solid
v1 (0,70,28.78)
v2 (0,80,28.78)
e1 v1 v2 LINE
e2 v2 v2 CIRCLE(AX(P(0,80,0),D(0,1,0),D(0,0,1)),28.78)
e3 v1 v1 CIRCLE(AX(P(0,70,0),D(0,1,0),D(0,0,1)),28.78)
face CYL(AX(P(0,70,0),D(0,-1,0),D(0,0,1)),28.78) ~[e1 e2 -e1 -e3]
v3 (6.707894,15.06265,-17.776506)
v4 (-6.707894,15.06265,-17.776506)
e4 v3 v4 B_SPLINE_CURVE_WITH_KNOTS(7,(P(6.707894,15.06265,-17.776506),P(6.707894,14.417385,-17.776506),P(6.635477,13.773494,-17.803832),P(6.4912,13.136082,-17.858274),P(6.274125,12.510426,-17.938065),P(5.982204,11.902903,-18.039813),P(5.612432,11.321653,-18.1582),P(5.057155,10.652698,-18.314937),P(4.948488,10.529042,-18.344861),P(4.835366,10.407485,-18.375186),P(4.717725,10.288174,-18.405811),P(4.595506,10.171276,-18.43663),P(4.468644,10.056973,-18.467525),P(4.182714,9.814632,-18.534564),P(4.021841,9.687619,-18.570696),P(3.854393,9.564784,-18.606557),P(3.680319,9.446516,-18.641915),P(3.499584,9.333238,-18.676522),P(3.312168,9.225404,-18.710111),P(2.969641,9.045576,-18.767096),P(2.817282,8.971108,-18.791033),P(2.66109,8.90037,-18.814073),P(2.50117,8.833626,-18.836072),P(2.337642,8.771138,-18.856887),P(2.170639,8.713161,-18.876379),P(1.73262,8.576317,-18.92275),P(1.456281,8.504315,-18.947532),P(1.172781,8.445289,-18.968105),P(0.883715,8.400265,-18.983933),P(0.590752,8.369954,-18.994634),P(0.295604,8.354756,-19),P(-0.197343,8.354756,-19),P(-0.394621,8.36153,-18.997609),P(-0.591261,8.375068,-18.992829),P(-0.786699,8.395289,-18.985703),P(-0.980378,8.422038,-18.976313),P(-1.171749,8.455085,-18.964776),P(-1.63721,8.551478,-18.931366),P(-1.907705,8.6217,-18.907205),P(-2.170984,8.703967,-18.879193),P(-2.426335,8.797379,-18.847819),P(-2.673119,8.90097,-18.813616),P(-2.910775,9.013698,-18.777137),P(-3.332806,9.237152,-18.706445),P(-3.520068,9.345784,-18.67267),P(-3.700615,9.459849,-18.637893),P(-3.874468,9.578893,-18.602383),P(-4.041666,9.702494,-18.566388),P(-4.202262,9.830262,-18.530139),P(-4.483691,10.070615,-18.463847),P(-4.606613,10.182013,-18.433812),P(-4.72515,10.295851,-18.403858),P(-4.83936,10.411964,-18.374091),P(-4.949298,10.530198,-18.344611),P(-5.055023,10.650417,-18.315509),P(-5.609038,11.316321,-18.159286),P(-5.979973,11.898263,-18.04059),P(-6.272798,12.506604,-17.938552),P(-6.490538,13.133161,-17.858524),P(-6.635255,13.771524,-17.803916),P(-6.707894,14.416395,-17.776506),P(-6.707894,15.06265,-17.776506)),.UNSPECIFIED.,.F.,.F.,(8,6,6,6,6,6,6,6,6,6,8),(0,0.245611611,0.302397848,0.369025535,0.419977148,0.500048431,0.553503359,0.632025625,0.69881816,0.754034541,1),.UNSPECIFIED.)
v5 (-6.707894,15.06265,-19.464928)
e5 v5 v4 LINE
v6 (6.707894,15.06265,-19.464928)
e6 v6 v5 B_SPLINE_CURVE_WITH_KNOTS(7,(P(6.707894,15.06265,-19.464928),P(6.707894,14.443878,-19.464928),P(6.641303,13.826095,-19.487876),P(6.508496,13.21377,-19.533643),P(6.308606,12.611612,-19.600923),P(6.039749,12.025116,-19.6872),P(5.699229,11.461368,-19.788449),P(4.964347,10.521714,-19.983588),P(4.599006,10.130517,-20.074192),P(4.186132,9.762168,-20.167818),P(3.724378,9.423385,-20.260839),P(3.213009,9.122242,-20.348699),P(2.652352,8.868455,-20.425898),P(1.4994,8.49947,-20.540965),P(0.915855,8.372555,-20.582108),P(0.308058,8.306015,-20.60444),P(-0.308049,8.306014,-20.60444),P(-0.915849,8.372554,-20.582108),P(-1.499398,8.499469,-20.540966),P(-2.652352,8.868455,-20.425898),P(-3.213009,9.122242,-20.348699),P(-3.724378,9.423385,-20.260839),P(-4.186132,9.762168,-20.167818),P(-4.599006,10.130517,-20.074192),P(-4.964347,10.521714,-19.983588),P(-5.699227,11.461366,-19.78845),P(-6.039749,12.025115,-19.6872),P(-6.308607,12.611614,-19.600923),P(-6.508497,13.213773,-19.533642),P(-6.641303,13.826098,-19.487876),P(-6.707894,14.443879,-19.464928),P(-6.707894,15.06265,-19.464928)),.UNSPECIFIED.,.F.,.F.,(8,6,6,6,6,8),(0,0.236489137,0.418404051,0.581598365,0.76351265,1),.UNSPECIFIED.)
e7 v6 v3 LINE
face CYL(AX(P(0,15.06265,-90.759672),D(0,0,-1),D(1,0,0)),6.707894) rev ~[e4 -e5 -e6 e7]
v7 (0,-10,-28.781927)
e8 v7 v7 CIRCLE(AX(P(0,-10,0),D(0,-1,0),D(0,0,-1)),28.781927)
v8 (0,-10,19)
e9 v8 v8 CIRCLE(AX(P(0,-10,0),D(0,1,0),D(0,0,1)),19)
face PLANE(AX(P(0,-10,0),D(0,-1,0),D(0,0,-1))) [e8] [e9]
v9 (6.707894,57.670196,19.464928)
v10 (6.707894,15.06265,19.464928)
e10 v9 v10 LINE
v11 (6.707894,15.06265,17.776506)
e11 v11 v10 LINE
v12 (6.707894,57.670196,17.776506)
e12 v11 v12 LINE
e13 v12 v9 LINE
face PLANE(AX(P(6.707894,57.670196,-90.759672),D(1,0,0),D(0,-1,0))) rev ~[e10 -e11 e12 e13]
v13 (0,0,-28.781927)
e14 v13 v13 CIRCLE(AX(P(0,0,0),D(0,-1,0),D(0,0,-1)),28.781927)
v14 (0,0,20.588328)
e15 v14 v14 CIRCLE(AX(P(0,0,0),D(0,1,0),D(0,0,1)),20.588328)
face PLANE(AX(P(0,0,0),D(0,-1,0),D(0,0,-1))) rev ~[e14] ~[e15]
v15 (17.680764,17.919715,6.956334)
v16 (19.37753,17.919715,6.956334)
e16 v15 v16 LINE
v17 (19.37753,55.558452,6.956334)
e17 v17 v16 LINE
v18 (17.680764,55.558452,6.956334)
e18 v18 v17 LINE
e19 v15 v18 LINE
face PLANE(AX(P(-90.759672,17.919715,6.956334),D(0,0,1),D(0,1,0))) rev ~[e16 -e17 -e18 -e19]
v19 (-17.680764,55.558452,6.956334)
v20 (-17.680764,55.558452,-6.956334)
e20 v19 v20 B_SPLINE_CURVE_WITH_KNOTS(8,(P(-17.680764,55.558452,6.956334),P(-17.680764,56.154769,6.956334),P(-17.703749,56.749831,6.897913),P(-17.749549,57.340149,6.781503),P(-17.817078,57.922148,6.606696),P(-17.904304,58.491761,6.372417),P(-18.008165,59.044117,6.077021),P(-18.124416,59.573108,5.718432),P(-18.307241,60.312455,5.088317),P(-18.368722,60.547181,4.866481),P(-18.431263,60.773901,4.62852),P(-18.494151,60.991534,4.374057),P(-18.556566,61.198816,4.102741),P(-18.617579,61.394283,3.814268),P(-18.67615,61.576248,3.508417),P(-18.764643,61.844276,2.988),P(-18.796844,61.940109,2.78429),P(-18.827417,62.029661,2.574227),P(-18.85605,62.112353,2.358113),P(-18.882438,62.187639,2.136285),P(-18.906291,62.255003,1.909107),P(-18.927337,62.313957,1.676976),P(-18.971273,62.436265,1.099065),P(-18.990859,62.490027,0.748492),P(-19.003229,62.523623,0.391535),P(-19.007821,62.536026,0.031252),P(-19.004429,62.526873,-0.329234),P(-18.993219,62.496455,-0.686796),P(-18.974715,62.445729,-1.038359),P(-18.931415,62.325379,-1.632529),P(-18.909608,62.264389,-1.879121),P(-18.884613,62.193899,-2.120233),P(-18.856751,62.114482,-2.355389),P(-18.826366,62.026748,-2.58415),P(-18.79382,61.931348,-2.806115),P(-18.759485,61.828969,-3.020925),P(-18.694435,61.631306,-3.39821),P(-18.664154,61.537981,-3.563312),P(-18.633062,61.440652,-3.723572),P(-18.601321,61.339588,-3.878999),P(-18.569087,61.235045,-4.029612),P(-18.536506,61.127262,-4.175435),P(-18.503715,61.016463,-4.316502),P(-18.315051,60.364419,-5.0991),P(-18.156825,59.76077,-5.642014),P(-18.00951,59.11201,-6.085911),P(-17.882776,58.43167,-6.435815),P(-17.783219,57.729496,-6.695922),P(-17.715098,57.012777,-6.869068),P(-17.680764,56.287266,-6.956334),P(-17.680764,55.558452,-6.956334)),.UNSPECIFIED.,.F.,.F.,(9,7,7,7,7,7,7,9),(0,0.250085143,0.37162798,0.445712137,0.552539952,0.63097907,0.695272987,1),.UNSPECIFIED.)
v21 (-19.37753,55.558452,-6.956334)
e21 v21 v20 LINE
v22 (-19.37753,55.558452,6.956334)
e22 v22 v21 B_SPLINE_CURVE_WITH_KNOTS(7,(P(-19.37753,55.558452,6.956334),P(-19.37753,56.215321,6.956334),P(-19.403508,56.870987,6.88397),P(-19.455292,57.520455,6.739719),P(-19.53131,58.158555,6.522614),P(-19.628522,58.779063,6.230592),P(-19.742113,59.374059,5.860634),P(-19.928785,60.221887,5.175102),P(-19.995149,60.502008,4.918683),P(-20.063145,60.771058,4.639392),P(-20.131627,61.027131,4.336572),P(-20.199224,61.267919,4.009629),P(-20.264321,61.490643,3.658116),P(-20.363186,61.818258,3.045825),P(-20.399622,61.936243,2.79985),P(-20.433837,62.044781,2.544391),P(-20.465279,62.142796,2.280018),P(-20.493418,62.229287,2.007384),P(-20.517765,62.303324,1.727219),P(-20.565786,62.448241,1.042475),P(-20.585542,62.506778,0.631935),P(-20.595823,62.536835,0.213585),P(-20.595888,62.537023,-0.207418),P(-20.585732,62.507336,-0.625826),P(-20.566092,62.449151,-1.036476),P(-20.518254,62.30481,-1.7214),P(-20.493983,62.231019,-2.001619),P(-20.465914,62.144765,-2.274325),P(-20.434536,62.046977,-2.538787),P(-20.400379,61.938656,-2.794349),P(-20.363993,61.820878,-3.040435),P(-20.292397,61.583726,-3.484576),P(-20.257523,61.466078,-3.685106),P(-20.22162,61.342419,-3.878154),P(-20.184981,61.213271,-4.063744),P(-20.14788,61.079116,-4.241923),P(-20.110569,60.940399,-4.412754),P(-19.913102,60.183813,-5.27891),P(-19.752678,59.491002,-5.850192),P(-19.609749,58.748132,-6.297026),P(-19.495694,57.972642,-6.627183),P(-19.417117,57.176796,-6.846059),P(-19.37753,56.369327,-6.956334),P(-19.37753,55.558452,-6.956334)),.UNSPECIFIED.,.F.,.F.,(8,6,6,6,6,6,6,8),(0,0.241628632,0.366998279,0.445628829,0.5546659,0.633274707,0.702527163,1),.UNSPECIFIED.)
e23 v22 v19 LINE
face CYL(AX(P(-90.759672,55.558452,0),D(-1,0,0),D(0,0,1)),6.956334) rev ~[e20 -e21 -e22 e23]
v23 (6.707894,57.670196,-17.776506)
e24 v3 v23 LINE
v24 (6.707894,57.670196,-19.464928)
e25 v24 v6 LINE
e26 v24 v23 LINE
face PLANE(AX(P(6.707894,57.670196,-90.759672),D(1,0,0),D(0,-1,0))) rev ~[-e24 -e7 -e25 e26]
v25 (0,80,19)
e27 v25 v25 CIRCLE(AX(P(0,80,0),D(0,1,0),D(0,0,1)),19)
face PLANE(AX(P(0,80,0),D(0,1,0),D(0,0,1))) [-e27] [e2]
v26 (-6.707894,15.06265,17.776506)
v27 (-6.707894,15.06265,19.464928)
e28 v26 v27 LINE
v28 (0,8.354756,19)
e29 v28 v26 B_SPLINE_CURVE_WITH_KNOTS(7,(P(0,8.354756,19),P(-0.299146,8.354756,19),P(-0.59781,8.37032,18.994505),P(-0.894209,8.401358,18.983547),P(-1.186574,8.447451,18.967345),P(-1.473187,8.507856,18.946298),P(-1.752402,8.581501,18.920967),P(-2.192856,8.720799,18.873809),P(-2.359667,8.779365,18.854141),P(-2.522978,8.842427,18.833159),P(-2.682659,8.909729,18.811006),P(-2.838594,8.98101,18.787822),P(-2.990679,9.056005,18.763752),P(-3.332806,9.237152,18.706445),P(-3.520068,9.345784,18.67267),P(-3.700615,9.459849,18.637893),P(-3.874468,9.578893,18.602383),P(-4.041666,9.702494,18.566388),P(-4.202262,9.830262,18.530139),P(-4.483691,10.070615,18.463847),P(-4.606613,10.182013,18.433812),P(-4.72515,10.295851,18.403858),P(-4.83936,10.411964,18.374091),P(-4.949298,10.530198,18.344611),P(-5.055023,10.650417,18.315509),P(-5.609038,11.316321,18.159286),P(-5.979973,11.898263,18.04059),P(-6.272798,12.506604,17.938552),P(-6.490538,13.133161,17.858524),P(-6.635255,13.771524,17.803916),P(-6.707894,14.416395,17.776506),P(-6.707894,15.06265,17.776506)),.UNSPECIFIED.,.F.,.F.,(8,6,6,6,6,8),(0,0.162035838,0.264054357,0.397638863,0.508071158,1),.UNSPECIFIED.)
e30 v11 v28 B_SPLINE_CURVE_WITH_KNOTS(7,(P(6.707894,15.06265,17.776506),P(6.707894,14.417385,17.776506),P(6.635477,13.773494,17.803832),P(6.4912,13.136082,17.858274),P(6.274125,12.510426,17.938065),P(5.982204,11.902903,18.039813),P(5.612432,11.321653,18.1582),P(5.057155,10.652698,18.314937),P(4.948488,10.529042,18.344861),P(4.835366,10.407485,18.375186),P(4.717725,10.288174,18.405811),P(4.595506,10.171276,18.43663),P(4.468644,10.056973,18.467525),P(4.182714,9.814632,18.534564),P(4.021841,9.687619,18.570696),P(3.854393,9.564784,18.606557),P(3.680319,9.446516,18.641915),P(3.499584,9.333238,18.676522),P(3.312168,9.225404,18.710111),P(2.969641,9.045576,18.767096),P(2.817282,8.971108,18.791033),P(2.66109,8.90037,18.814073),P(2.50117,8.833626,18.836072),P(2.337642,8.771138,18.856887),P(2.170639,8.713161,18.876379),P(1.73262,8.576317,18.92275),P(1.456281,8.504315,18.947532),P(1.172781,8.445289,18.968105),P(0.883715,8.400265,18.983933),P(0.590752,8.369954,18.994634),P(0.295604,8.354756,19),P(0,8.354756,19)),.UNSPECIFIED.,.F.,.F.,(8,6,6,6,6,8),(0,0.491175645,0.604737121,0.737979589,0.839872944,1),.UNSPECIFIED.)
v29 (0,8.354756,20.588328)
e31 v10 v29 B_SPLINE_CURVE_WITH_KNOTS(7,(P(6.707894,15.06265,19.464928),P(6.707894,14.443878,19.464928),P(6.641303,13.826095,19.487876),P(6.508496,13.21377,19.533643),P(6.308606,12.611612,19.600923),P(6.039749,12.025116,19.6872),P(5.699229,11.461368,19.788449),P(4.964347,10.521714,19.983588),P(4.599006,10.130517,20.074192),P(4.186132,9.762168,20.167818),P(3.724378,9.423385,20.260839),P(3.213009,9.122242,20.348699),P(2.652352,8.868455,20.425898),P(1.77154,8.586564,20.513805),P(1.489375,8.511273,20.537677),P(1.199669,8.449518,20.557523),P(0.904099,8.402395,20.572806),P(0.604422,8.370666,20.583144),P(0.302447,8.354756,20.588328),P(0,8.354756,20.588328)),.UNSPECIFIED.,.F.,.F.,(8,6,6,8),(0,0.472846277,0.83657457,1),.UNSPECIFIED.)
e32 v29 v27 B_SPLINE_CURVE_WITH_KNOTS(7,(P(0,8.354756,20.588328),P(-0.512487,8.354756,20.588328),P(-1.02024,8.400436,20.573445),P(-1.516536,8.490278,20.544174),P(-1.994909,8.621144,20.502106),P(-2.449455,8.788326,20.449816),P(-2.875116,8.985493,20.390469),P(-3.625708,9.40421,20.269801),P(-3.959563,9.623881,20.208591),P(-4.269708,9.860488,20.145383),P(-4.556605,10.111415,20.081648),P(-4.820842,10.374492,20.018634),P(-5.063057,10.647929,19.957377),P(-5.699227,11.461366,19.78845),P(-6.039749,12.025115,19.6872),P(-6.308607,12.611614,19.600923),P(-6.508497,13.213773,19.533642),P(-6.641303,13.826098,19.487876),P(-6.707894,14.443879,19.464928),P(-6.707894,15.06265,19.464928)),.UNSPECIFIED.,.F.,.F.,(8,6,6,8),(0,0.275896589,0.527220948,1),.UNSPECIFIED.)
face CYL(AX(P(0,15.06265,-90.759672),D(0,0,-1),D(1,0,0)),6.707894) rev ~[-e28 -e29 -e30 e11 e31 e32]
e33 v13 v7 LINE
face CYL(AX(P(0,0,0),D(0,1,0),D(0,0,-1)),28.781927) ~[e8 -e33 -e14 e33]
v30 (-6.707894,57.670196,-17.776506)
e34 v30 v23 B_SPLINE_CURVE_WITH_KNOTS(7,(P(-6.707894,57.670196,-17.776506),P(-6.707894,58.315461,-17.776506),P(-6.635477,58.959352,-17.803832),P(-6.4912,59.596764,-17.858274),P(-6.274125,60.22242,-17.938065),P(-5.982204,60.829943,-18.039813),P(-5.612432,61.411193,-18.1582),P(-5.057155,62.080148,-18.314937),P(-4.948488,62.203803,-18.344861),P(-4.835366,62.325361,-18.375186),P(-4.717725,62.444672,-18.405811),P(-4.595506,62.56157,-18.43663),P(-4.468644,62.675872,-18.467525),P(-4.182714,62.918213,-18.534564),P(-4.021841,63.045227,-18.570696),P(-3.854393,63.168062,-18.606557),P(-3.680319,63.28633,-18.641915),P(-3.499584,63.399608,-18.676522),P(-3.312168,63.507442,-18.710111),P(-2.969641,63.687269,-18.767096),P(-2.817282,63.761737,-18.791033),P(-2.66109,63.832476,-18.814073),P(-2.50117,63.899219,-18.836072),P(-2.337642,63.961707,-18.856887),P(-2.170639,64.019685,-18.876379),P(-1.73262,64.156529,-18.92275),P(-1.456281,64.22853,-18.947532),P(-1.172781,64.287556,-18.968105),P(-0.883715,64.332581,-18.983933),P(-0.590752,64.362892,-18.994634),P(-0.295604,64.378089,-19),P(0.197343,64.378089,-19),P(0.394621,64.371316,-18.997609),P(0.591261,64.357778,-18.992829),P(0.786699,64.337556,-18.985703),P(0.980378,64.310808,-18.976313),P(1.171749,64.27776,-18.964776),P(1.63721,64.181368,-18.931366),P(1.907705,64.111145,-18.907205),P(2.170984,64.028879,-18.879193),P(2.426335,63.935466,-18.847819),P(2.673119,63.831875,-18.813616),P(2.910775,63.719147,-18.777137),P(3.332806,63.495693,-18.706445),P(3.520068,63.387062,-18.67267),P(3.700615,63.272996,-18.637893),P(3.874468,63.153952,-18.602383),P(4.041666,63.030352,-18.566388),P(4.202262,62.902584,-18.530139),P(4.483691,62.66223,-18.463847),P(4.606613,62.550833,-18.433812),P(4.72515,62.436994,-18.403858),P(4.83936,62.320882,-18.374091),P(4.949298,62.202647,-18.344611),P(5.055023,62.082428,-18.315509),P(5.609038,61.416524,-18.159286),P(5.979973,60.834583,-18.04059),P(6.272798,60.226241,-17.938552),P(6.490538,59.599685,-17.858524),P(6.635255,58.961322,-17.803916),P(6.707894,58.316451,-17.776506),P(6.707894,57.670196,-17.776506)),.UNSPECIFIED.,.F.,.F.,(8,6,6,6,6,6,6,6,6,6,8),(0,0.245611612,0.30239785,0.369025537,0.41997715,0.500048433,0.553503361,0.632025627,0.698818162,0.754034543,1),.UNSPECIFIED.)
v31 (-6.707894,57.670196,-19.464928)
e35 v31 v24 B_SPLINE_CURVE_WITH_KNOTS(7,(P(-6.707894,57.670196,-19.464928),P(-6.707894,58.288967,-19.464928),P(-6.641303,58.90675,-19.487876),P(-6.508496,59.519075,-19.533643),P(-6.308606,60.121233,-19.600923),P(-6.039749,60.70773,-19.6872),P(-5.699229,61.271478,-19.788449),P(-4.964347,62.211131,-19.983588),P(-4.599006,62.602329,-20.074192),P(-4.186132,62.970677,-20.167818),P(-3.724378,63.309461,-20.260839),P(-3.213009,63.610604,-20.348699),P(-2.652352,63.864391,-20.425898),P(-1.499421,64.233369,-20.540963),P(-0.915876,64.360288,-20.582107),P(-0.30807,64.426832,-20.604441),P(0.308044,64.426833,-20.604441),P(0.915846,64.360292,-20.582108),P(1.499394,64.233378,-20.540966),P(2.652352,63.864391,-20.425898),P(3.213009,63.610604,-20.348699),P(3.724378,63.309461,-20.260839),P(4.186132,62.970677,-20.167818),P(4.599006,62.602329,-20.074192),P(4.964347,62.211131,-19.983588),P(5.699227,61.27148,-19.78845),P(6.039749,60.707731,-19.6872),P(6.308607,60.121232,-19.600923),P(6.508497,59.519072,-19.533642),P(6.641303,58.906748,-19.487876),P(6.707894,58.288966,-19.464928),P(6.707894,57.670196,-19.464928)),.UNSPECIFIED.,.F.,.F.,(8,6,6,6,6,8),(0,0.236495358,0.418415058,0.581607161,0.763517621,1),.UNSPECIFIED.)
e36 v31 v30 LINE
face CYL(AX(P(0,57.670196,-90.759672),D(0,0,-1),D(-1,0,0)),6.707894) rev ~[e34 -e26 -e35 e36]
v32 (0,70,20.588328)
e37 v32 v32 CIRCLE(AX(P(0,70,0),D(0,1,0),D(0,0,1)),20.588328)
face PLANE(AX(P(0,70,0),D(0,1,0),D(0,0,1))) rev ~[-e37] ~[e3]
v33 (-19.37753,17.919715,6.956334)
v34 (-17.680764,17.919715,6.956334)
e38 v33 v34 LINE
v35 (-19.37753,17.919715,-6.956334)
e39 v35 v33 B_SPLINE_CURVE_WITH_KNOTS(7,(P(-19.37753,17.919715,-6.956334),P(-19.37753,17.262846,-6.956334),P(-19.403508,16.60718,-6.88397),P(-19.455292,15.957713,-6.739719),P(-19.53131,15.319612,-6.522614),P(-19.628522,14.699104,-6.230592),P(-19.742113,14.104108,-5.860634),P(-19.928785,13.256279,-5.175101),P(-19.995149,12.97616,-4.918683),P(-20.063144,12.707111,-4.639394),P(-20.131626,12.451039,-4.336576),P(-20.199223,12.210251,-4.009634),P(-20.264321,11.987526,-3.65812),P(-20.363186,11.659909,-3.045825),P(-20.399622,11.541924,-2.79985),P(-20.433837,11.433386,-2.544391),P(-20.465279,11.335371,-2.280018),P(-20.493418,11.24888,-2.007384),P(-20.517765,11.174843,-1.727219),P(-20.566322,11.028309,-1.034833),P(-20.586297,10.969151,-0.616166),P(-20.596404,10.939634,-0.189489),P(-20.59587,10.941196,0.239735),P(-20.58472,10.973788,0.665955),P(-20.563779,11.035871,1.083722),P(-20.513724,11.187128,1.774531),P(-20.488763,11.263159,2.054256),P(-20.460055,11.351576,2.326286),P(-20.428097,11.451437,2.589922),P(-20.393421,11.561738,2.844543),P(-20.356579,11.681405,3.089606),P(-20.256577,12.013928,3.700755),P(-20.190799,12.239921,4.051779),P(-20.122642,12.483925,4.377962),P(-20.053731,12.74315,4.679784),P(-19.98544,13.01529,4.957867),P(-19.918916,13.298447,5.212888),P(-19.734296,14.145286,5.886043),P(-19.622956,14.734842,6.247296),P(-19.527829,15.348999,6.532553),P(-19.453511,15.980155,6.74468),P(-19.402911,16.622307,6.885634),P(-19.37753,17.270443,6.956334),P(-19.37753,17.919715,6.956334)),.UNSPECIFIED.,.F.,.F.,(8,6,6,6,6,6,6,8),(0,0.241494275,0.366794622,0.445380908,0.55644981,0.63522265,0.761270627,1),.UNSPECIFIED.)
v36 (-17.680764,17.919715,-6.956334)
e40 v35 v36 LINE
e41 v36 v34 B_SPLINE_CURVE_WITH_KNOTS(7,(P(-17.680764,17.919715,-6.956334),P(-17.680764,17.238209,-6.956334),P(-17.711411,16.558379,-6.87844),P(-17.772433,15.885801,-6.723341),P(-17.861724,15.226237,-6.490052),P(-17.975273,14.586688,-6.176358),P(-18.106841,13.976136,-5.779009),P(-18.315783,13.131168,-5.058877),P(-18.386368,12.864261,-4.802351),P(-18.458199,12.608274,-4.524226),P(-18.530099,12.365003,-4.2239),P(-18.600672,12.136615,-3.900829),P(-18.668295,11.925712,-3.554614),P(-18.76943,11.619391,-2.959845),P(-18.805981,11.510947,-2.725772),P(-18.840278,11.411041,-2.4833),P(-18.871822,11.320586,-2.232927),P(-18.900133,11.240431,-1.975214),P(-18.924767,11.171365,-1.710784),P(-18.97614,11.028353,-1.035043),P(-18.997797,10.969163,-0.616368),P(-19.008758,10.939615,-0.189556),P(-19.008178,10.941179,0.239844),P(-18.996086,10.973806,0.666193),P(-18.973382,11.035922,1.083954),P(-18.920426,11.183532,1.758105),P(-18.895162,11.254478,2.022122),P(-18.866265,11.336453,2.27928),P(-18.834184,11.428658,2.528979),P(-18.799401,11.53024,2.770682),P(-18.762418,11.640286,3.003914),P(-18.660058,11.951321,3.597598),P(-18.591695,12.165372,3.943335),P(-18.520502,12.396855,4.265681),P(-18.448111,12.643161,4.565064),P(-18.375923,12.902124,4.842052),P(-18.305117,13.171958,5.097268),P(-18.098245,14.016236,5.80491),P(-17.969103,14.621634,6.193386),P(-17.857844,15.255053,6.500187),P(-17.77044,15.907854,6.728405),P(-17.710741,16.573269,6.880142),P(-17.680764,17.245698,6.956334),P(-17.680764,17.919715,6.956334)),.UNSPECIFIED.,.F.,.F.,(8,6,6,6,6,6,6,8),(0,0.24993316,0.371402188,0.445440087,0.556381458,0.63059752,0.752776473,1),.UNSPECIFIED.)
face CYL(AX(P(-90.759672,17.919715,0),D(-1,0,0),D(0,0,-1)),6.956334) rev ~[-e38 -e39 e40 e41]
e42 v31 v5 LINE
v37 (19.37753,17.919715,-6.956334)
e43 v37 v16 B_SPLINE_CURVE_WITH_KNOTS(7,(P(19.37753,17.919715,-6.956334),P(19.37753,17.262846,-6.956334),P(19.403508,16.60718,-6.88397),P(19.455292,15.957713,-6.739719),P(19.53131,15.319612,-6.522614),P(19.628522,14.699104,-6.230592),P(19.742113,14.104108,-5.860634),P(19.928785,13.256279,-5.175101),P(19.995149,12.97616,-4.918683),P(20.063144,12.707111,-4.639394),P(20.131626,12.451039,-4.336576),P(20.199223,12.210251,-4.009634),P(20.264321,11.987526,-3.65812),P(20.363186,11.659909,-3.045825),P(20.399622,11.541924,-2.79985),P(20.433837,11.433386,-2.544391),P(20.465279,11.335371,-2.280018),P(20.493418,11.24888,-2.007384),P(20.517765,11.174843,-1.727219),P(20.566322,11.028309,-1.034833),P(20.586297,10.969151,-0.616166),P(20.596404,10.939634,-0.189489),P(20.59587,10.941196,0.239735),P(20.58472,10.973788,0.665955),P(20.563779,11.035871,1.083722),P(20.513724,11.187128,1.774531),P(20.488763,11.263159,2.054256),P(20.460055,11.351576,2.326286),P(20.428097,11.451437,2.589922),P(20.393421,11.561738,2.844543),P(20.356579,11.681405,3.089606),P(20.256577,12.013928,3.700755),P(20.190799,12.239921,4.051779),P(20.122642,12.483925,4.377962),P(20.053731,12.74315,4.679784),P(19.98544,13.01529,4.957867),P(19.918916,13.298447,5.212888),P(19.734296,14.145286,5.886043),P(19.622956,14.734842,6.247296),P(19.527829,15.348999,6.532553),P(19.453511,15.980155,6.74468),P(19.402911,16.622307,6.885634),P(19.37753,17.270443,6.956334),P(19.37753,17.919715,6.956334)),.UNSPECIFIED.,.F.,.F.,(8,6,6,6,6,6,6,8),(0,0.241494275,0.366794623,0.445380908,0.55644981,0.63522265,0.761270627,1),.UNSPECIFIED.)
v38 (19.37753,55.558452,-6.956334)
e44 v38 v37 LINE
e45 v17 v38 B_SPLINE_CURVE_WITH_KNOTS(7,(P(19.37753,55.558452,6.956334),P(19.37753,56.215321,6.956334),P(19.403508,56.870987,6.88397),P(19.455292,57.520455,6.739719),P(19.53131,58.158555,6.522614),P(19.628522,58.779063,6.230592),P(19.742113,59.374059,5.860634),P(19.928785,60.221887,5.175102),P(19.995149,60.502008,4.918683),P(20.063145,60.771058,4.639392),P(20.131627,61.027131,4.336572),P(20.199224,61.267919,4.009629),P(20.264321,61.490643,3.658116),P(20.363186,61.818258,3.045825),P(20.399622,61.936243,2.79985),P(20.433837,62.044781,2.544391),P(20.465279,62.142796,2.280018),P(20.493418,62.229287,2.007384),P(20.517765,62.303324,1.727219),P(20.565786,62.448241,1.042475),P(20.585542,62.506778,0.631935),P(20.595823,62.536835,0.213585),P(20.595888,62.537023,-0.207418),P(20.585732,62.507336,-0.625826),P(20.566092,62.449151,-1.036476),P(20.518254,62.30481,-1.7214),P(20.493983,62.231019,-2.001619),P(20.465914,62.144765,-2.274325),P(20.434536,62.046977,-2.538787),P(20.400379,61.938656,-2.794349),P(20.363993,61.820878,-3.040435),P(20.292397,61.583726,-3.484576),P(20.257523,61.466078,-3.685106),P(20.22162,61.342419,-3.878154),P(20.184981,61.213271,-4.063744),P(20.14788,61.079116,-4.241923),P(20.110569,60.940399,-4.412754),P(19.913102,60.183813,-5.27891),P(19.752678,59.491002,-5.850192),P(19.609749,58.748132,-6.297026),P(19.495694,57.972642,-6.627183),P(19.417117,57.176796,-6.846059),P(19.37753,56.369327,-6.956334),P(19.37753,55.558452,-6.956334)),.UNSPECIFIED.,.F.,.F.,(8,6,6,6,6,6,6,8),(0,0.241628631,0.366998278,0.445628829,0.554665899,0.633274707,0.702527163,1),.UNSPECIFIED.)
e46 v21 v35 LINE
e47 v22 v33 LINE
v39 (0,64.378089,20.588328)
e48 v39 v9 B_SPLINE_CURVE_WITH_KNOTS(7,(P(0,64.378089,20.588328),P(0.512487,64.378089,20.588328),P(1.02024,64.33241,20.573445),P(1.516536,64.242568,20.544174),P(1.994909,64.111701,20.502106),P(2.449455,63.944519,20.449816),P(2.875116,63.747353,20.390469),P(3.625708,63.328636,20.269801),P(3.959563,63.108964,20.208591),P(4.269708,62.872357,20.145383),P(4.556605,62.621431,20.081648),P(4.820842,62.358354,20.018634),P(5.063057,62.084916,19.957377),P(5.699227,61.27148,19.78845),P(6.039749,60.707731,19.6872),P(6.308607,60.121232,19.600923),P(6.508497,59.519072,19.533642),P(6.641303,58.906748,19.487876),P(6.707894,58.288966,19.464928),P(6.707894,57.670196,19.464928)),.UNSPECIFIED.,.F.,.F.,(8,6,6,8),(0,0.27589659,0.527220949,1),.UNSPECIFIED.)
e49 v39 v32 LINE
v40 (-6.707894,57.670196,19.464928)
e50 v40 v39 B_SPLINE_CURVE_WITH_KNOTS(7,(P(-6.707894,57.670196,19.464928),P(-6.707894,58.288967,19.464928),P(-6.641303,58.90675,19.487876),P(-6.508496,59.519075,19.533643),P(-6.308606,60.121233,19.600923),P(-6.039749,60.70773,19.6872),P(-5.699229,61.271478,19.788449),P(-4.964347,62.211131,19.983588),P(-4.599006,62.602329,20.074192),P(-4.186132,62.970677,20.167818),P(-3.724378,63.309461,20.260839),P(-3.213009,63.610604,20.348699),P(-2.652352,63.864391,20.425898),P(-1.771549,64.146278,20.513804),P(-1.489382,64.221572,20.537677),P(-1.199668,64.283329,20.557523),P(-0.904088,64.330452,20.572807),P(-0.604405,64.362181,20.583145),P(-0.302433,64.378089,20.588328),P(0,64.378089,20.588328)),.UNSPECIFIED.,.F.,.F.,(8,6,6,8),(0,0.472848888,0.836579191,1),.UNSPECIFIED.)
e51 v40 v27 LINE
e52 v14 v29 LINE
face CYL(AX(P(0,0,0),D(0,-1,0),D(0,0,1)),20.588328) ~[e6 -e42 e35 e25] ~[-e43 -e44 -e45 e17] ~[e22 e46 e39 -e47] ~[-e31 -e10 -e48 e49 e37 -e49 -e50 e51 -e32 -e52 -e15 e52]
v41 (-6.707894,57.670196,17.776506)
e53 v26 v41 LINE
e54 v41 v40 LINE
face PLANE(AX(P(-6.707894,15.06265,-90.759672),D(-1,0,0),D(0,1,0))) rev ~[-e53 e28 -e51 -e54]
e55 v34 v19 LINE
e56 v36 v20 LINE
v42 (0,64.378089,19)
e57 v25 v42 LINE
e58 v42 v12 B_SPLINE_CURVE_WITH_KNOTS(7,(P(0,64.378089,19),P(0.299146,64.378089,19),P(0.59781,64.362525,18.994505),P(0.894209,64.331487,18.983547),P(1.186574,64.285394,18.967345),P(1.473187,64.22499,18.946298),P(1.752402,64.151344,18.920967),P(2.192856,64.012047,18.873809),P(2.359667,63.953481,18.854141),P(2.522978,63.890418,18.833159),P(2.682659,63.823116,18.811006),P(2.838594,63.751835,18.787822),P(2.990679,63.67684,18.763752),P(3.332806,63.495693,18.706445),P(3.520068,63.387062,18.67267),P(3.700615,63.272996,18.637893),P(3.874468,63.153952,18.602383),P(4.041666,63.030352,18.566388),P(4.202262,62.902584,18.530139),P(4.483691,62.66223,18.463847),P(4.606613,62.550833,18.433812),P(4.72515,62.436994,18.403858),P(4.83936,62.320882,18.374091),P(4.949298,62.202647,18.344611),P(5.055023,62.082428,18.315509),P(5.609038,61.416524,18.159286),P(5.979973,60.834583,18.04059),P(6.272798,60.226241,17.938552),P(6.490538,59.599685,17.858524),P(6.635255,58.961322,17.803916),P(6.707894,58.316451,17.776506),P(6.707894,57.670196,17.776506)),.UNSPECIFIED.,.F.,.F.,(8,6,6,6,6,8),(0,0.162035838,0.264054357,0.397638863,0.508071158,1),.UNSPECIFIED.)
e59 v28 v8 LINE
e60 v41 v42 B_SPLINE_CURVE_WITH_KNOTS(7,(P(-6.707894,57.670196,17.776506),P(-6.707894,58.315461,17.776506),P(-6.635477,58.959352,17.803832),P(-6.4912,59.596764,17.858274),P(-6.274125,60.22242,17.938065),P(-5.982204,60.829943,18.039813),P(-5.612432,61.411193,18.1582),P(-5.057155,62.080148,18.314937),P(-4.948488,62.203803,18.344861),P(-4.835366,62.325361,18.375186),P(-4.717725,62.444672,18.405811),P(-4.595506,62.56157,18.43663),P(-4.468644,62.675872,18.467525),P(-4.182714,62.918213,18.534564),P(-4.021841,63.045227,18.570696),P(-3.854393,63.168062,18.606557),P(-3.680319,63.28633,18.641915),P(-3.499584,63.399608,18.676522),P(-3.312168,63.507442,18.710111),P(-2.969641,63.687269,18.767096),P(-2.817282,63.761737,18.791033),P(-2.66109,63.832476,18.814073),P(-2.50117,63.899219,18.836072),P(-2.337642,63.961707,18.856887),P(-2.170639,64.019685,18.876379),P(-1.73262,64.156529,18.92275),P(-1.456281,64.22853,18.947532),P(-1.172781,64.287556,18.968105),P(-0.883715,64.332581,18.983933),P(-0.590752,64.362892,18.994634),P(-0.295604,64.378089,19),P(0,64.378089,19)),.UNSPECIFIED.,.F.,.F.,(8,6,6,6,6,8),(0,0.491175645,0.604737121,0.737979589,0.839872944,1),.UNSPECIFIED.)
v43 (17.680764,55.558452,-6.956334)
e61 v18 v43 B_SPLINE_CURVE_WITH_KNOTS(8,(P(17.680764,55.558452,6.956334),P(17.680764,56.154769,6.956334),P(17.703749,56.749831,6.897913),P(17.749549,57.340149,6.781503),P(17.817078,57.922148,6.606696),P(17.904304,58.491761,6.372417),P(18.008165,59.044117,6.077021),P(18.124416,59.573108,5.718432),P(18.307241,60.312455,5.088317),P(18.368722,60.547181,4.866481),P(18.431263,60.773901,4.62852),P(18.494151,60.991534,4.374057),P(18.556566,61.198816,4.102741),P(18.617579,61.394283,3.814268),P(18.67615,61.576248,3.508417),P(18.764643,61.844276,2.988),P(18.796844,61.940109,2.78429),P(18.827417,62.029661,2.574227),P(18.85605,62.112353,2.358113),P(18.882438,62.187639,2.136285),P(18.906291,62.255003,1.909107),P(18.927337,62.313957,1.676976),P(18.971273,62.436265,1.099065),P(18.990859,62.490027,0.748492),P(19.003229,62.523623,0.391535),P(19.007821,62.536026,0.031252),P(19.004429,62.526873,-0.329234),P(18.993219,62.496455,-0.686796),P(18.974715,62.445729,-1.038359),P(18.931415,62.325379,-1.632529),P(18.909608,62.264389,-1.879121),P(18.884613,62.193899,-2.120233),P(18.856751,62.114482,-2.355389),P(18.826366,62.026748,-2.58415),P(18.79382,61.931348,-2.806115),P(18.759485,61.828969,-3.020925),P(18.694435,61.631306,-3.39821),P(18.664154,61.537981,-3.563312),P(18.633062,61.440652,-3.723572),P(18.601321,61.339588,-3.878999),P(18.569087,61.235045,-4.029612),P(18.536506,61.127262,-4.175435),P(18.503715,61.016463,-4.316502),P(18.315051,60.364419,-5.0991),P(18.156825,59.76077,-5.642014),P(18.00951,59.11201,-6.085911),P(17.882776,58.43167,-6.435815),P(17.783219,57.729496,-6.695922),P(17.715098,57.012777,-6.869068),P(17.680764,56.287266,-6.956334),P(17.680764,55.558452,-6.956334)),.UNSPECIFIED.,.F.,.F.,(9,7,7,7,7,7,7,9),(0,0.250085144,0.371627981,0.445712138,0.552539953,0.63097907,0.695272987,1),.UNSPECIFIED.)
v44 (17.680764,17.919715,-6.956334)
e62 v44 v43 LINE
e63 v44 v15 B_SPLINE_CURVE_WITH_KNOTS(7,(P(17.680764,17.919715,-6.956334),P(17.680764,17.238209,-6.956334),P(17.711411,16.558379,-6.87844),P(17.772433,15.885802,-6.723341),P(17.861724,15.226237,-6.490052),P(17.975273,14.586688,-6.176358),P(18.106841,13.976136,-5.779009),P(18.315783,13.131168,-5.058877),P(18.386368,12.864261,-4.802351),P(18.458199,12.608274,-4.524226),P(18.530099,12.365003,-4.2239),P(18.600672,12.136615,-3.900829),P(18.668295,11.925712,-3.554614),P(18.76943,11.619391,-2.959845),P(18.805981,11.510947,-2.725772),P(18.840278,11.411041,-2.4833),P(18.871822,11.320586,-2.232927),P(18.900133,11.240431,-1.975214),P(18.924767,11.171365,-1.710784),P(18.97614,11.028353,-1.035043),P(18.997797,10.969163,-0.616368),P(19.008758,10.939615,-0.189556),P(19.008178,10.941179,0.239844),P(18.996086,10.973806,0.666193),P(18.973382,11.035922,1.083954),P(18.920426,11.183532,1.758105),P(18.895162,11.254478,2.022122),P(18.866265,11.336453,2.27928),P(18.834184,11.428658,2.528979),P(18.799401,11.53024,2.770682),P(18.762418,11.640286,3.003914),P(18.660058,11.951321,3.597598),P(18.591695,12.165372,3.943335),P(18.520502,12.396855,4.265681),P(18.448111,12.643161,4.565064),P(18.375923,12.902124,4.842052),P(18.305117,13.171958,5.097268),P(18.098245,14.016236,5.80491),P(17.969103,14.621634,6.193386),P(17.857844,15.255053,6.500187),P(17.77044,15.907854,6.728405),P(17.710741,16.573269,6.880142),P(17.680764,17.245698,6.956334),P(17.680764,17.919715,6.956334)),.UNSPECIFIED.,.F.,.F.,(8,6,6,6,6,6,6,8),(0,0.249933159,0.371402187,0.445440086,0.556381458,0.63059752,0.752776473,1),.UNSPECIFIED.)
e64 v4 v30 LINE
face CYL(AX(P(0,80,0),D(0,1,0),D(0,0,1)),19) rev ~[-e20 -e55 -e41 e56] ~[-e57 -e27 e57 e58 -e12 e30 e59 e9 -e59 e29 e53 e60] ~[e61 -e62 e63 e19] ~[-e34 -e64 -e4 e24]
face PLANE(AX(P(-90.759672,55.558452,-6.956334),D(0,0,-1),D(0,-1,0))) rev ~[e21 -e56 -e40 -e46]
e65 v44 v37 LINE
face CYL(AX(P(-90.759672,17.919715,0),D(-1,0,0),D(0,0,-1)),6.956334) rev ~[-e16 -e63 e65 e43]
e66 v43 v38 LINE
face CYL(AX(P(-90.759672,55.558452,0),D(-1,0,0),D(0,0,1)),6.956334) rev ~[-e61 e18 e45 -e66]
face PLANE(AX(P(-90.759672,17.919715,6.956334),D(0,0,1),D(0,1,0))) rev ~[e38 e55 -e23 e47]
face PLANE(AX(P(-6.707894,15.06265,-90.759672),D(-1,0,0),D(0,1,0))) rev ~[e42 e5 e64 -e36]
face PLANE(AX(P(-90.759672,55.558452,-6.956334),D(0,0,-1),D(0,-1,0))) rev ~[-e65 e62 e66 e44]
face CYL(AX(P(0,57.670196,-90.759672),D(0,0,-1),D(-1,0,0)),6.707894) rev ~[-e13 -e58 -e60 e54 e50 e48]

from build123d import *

# Parameters (mm, degrees)
ESBO_O1_R                  = 20.588327932
RESSALTO_EXTRUS_O1_DEPTH   = 70
ESBO_O2_R                  = 28.781927243
RESSALTO_EXTRUS_O2_DEPTH   = 10
ESBO_O4_R                  = 28.78
RESSALTO_EXTRUS_O3_DEPTH   = 10
ESBO_O5_R                  = 19
CORTE_EXTRUS_O4_DEPTH      = 90
CORTE_EXTRUS_O5_DEPTH      = 90.759671744
CORTE_EXTRUS_O5_DEPTH_BACK = 90.759671744
CORTE_EXTRUS_O6_DEPTH      = 90.759671833
CORTE_EXTRUS_O6_DEPTH_BACK = 90.759671833


with BuildPart() as part:
    # Esboço1 → Ressalto-extrusão1 (new body)
    with BuildSketch(Plane(origin=(0, 0, 0), x_dir=(1, 0, 0), z_dir=(0, 1, 0))):
        with Locations(Location((0, 0, 0), (0, 0, 270))):
            Circle(ESBO_O1_R)
    extrude(amount=RESSALTO_EXTRUS_O1_DEPTH)

    # Esboço2 → Ressalto-extrusão2 (add)
    with BuildSketch(Plane.XZ):
        with Locations(Location((0, 0, 0), (0, 0, 270))):
            Circle(ESBO_O2_R)
    extrude(amount=RESSALTO_EXTRUS_O2_DEPTH)

    # Esboço4 → Ressalto-extrusão3 (add)
    with BuildSketch(Plane(origin=(0, 70, 0), x_dir=(1, 0, 0), z_dir=(0, 1, 0))):
        with Locations(Location((0, 0, 0), (0, 0, 270))):
            Circle(ESBO_O4_R)
    extrude(amount=RESSALTO_EXTRUS_O3_DEPTH)

    # Esboço5 → Corte-extrusão4 (cut)
    with BuildSketch(Plane(origin=(0, 80, 0), x_dir=(1, 0, 0), z_dir=(0, 1, 0))):
        with Locations(Location((0, 0, 0), (0, 0, 270))):
            Circle(ESBO_O5_R)
    extrude(amount=-CORTE_EXTRUS_O4_DEPTH, mode=Mode.SUBTRACT)

    # Esboço6 → Corte-extrusão5 (cut, two sides: drawn at the far end of the back side and taken through both)
    with BuildSketch(Plane(origin=(0, 0, 0), x_dir=(0, 0, -1), z_dir=(1, 0, 0)).offset(-CORTE_EXTRUS_O5_DEPTH_BACK)):
        with BuildLine():
            Line((6.956334081, 55.558451616), (6.956334081, 17.919715425))
            ThreePointArc((6.956334081, 17.919715425), (0, 10.963381344), (-6.956334081, 17.919715425))
            Line((-6.956334081, 17.919715425), (-6.956334081, 55.558451616))
            ThreePointArc((-6.956334081, 55.558451616), (0, 62.514785697), (6.956334081, 55.558451616))
        make_face()
    extrude(amount=CORTE_EXTRUS_O5_DEPTH + CORTE_EXTRUS_O5_DEPTH_BACK, mode=Mode.SUBTRACT)

    # Esboço7 → Corte-extrusão6 (cut, two sides: drawn at the far end of the back side and taken through both)
    with BuildSketch(Plane.XY.offset(-CORTE_EXTRUS_O6_DEPTH_BACK)):
        with BuildLine():
            Line((6.707893579, 57.67019589), (6.707893579, 15.062649642))
            ThreePointArc((6.707893579, 15.062649642), (0, 8.354756063), (-6.707893579, 15.062649642))
            Line((-6.707893579, 15.062649642), (-6.707893579, 57.67019589))
            ThreePointArc((-6.707893579, 57.67019589), (0, 64.378089469), (6.707893579, 57.67019589))
        make_face()
    extrude(amount=CORTE_EXTRUS_O6_DEPTH + CORTE_EXTRUS_O6_DEPTH_BACK, mode=Mode.SUBTRACT)


solid = part.part
